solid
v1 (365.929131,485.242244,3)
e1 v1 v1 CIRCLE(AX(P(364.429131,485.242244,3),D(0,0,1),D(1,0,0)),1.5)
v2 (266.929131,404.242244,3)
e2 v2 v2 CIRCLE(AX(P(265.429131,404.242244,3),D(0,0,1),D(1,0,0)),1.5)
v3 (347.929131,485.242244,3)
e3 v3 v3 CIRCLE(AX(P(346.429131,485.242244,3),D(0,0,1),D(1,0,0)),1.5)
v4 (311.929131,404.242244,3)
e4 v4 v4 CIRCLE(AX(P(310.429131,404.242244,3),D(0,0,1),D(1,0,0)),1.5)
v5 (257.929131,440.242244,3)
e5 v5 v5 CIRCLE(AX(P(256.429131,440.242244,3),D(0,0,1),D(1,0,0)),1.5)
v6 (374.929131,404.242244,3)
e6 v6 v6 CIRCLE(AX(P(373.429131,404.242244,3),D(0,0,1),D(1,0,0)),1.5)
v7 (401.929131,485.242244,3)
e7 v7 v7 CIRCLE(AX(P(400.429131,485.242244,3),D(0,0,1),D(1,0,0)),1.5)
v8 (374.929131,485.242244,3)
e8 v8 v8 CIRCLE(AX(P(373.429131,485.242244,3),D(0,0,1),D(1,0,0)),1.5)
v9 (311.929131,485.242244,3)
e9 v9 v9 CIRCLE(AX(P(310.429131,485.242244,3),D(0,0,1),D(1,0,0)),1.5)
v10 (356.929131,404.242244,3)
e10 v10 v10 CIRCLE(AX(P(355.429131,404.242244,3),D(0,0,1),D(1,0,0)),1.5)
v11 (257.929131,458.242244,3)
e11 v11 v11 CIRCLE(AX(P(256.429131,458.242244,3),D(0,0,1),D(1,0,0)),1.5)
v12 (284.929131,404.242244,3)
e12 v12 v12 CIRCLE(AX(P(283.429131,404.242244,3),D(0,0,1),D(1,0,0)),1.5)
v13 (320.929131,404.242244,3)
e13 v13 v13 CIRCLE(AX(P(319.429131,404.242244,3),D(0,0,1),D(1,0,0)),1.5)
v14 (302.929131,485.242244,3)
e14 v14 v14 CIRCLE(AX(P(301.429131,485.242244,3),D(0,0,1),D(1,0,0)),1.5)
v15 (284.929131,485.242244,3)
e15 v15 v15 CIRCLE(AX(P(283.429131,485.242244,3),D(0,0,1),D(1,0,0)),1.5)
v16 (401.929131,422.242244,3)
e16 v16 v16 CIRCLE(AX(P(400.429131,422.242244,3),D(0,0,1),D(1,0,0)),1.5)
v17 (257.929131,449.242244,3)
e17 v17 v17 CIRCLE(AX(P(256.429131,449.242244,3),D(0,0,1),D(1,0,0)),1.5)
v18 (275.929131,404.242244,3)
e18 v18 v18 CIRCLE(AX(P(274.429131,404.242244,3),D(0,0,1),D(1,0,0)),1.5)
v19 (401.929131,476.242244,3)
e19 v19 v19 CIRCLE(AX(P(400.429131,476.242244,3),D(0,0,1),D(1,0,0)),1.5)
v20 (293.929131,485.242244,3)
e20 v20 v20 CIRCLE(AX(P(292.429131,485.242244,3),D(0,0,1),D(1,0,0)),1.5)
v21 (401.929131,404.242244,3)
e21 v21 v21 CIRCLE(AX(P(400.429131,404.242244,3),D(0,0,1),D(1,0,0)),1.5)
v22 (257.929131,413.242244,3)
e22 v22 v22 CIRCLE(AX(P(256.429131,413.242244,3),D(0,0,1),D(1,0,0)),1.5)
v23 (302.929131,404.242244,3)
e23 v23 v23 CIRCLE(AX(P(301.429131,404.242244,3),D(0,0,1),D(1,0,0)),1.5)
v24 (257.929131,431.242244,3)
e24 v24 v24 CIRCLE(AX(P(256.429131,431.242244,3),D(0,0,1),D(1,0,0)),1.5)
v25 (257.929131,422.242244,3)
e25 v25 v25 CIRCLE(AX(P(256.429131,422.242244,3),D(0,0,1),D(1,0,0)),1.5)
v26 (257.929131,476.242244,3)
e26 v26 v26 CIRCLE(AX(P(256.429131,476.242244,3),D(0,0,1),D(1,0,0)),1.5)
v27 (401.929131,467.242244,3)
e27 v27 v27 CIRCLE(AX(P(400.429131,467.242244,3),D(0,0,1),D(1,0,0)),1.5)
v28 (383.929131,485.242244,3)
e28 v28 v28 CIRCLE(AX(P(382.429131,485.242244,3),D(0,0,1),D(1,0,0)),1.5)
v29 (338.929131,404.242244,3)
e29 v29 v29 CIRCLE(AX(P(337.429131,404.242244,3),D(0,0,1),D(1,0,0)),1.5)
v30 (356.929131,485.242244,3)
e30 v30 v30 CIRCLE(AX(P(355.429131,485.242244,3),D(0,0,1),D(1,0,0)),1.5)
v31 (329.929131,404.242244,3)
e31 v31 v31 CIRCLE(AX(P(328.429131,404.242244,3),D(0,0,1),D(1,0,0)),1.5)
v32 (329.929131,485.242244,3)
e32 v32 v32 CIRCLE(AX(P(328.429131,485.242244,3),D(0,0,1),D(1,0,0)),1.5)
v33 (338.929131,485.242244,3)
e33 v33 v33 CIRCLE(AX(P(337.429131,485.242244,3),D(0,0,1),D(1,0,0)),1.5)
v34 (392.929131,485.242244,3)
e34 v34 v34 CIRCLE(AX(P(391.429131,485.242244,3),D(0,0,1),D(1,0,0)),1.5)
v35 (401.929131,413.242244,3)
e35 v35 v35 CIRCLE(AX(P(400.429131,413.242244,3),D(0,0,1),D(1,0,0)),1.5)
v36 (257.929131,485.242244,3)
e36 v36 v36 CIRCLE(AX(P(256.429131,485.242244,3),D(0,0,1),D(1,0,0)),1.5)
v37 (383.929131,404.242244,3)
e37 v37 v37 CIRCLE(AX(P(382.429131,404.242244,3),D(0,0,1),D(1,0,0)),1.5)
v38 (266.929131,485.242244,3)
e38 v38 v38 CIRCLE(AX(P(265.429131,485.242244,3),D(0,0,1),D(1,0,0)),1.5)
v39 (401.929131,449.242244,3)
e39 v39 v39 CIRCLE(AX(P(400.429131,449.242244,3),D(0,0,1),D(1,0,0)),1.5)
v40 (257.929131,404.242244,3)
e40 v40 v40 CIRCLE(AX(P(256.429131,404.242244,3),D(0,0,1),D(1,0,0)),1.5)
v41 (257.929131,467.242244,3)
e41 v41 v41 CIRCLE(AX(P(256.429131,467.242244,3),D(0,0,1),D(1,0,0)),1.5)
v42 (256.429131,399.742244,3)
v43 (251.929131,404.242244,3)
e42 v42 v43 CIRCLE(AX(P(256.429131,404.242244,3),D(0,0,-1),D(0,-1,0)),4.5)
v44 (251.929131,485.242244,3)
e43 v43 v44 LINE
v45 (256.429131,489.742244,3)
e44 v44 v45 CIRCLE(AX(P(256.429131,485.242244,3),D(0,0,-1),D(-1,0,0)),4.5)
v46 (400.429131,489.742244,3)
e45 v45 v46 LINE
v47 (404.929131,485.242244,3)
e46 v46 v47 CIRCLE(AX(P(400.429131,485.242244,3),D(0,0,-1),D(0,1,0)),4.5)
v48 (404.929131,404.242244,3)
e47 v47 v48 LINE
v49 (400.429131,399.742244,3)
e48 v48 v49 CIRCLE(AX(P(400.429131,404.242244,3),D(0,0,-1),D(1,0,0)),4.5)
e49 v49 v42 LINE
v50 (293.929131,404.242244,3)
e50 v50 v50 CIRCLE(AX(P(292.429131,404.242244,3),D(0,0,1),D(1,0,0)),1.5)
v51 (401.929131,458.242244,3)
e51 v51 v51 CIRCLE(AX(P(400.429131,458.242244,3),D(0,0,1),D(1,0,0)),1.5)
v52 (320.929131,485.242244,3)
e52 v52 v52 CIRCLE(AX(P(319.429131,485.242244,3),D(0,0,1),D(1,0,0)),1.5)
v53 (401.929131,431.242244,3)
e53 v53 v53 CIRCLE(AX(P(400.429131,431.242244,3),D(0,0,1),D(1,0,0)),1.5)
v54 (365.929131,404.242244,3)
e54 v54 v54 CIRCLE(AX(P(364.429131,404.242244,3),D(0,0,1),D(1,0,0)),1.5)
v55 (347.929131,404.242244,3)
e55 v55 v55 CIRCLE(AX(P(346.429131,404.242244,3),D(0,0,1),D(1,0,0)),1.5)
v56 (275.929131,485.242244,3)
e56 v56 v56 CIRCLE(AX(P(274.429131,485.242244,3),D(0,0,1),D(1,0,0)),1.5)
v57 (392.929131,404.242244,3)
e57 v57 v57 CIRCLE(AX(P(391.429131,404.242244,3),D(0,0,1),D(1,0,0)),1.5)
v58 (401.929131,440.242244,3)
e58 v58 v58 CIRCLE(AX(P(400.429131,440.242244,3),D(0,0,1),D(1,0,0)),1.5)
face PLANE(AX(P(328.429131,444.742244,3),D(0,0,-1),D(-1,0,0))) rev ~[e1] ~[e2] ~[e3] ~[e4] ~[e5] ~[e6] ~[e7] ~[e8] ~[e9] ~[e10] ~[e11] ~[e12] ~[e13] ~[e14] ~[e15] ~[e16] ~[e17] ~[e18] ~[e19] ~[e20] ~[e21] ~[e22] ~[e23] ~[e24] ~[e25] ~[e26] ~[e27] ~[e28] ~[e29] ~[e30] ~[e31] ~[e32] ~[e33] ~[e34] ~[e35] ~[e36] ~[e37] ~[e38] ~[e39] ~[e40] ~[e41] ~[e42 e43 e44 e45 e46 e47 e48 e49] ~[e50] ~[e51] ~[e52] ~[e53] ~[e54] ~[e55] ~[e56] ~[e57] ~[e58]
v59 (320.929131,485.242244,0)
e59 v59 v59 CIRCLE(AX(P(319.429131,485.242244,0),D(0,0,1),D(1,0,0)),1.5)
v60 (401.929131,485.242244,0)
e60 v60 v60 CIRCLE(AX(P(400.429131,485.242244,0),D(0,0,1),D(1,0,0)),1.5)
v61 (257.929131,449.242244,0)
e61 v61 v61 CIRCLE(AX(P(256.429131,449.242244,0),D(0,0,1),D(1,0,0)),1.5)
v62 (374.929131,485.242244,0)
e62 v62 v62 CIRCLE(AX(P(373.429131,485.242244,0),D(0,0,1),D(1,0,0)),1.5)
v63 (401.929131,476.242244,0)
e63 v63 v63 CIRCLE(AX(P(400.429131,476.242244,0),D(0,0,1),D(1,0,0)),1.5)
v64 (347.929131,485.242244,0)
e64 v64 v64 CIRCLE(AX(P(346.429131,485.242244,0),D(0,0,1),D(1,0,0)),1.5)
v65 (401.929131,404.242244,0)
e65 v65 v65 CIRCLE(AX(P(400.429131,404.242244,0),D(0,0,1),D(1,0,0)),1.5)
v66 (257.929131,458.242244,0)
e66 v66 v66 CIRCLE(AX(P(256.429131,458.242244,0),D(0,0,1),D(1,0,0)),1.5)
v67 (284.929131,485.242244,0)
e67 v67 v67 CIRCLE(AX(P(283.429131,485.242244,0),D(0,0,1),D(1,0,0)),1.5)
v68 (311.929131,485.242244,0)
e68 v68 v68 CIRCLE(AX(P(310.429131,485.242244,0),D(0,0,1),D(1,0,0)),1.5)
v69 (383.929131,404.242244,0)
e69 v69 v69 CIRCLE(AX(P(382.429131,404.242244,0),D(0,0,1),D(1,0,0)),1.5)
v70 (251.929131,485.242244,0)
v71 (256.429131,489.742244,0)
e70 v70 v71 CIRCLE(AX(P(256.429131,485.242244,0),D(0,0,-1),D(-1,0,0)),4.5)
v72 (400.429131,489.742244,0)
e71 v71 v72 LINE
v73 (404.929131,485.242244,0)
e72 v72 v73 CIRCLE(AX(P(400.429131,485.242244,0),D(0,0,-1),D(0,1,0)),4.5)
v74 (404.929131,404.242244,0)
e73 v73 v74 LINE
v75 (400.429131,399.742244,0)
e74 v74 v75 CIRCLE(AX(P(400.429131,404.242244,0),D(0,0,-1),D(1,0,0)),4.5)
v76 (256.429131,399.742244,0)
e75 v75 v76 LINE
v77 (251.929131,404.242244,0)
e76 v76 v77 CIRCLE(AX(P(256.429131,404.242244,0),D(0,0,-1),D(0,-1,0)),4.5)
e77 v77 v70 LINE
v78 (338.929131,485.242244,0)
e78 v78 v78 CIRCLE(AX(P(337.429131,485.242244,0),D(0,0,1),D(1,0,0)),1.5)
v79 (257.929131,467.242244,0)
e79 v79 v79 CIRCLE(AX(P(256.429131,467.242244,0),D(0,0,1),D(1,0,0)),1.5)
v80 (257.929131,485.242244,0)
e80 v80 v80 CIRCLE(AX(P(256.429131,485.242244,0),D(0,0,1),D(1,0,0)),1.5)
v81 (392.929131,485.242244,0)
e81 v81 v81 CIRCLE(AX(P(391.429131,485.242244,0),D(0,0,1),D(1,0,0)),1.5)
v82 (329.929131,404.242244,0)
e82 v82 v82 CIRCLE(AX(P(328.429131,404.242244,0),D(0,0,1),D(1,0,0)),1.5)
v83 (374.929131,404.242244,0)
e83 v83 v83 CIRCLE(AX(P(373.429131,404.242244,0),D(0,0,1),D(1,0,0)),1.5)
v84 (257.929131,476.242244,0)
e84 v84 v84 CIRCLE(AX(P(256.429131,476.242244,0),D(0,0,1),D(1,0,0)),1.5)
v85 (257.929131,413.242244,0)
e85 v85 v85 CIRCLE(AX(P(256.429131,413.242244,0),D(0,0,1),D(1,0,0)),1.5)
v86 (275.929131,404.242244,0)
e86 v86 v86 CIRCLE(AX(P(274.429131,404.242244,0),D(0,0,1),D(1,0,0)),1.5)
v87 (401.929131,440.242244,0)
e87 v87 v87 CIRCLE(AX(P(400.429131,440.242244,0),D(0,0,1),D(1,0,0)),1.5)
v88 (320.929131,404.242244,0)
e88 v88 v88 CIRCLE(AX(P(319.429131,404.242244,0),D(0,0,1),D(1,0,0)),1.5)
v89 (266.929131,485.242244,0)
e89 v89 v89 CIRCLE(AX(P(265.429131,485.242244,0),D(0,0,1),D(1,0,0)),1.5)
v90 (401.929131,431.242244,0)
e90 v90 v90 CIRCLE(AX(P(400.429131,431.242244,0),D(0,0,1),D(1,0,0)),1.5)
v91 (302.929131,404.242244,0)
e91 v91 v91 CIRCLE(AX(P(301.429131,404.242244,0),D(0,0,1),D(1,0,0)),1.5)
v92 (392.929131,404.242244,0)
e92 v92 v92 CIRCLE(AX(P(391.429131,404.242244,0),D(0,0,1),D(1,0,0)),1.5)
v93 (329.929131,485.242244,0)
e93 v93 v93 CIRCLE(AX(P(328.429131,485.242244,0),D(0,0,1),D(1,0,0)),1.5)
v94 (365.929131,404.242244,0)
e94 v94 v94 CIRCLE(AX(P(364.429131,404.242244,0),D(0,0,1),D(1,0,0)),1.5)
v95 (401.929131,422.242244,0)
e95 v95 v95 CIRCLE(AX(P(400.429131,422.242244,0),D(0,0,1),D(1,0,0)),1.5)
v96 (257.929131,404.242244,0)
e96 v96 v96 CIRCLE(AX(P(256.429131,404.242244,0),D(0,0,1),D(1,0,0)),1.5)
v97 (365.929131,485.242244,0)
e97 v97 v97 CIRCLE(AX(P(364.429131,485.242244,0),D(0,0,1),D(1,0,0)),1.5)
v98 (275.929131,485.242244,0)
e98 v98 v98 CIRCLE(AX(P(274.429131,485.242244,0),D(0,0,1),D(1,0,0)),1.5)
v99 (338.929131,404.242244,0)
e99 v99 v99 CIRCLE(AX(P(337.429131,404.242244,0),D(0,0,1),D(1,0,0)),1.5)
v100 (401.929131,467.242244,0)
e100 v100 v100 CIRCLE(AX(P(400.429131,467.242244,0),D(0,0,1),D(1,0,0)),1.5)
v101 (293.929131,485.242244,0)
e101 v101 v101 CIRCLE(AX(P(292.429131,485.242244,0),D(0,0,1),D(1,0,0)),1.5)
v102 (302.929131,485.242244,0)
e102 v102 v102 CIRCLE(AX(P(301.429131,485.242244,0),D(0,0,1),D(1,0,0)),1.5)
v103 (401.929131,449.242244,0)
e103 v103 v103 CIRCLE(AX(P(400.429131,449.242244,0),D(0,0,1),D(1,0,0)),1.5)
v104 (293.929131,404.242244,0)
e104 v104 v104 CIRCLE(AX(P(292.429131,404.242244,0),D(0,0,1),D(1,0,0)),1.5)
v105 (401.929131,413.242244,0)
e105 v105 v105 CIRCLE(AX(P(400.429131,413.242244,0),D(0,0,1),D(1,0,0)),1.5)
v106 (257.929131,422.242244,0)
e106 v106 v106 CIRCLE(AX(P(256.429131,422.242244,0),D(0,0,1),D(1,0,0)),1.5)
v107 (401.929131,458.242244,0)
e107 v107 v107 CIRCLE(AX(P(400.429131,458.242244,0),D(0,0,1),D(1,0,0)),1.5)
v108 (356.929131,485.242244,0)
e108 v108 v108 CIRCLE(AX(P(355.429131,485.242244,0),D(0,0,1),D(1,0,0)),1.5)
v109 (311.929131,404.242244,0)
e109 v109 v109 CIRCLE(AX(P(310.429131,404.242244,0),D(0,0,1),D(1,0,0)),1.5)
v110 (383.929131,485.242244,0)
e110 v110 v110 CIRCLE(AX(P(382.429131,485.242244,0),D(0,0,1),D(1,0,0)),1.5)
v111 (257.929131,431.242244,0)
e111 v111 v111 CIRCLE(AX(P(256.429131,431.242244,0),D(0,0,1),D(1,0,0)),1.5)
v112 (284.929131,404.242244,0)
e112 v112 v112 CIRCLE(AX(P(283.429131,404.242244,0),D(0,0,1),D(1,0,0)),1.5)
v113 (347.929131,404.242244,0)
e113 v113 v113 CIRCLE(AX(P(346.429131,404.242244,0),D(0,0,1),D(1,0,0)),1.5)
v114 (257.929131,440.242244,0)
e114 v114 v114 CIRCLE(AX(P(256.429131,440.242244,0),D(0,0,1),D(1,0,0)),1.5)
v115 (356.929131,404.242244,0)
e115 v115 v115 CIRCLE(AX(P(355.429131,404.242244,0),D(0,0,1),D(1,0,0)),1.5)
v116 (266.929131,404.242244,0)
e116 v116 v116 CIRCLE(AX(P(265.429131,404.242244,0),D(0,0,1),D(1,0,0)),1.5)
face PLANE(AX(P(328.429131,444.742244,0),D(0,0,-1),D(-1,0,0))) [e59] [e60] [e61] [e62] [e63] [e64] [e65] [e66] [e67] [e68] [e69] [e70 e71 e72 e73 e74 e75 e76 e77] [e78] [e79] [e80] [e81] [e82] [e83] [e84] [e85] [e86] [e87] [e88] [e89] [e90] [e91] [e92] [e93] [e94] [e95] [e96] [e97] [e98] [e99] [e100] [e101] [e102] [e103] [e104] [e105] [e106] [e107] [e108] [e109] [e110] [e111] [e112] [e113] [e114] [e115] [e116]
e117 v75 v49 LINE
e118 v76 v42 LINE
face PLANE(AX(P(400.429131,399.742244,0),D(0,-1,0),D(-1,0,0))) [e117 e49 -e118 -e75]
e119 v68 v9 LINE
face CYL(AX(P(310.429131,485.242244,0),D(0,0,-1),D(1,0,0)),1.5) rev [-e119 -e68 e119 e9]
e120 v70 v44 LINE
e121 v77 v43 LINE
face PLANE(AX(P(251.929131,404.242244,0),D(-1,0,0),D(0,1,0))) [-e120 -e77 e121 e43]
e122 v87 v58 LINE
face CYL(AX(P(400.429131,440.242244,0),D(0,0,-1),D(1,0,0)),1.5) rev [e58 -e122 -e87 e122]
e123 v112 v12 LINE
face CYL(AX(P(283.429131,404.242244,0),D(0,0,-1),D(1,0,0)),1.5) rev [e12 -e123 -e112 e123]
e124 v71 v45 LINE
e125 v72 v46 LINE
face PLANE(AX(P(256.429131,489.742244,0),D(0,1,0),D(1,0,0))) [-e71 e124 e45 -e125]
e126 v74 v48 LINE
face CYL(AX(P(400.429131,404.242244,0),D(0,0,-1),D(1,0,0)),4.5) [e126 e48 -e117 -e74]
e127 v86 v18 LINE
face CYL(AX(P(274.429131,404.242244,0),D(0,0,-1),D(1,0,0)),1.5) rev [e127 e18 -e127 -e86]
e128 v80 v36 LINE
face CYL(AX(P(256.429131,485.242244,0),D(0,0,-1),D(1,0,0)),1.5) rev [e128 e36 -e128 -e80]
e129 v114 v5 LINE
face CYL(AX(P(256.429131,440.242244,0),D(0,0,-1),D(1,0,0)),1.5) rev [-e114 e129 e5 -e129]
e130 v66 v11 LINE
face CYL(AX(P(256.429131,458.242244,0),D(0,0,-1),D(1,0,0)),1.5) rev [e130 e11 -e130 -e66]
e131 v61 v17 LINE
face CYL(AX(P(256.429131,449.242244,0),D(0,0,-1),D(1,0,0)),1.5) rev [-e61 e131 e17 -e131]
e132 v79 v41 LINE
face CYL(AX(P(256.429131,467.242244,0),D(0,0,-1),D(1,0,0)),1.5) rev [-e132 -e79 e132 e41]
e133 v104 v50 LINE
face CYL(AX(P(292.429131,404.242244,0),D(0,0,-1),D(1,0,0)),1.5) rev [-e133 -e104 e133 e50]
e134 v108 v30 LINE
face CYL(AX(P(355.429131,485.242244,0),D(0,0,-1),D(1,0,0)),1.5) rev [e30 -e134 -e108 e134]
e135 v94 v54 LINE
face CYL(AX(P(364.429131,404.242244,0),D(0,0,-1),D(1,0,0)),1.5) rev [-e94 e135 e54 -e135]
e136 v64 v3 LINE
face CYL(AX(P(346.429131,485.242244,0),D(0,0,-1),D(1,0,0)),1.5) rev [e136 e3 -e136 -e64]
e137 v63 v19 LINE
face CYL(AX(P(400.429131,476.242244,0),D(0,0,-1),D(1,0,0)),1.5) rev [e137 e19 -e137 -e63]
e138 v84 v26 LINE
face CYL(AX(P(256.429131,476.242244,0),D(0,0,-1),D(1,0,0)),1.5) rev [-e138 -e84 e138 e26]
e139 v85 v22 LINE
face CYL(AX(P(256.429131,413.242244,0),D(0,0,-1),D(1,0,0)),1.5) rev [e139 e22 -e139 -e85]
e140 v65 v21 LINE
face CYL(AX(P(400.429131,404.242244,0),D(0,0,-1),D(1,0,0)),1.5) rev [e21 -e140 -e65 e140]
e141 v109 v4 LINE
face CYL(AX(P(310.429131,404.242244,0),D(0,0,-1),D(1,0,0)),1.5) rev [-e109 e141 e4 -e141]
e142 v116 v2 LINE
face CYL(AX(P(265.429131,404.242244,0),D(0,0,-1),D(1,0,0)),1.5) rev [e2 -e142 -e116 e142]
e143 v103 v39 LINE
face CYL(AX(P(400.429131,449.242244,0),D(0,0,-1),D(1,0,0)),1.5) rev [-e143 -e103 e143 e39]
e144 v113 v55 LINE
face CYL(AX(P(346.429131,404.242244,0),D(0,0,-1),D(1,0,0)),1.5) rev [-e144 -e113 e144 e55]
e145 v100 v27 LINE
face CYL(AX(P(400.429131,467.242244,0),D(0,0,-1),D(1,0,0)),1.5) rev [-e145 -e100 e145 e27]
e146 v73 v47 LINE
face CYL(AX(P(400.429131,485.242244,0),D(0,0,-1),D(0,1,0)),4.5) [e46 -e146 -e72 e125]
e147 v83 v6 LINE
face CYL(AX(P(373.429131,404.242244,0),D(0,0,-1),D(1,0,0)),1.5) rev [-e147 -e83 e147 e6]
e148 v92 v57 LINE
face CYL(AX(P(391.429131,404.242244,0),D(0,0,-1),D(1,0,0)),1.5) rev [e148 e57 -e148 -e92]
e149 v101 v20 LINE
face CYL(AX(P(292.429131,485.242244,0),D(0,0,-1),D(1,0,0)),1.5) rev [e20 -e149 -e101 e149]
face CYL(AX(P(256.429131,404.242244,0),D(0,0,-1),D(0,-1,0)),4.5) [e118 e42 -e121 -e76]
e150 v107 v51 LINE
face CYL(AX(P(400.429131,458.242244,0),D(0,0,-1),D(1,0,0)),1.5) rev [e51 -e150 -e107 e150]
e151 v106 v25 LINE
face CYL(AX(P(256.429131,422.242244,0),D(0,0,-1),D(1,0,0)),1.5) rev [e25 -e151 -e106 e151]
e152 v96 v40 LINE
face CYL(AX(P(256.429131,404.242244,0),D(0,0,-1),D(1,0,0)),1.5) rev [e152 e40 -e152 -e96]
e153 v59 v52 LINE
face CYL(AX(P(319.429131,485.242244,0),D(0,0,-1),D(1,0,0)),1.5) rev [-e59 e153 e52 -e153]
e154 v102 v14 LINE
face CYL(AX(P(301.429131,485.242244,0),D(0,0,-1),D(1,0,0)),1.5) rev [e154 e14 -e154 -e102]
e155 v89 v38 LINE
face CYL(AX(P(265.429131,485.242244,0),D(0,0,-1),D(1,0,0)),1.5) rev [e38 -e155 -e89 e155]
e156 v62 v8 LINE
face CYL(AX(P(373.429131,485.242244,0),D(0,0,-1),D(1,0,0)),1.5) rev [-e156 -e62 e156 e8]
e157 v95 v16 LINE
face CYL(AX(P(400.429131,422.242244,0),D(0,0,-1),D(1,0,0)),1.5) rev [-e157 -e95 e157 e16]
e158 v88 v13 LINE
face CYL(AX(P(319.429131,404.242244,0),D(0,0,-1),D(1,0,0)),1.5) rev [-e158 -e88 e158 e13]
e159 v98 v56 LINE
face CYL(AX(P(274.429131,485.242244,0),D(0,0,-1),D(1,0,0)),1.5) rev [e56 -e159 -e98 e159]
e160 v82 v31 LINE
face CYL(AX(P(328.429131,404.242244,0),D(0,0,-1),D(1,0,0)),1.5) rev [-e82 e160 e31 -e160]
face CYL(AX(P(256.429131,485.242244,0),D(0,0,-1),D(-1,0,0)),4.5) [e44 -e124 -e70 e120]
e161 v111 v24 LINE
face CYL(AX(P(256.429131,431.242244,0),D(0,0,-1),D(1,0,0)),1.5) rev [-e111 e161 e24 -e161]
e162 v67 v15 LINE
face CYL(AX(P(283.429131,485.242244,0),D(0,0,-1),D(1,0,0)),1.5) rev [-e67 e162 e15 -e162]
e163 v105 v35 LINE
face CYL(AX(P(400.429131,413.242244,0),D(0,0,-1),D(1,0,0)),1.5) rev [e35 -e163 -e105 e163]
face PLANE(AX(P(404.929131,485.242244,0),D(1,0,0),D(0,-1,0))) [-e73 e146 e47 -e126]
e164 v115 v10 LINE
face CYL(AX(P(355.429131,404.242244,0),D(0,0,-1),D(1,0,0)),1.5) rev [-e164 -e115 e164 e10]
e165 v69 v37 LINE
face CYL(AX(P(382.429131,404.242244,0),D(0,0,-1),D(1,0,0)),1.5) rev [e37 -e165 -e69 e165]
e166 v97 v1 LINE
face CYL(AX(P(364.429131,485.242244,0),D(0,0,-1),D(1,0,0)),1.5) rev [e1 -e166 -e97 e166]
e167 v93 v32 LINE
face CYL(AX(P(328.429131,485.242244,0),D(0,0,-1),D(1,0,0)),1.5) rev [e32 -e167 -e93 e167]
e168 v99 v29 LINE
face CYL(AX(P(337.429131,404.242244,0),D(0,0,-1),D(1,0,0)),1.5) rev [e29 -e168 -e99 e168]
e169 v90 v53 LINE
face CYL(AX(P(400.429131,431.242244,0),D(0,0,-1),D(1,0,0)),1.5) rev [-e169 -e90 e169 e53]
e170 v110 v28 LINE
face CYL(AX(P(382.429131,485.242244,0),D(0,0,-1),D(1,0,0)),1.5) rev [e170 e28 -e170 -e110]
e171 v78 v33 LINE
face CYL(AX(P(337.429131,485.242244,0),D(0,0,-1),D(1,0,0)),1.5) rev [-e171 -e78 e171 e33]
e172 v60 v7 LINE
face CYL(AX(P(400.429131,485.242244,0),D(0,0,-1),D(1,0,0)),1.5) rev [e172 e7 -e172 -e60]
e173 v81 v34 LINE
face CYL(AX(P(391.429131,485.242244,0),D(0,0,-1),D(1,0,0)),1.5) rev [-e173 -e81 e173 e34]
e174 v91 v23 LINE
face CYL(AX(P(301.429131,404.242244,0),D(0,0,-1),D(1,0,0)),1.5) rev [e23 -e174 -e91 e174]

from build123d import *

# Parameters (mm, degrees)
MODEL_R                 = 1.5
SALIENTE_EXTRUIR1_DEPTH = 3


with BuildPart() as part:
    # Model → Saliente-Extruir1 (new body)
    with BuildSketch(Plane.XY):
        with BuildLine():
            Line((404.929131311, 485.242243614), (404.929131311, 404.242243614))
            ThreePointArc((404.929131311, 404.242243614), (403.611111826, 401.060263099), (400.429131311, 399.742243614))
            Line((400.429131311, 399.742243614), (256.429131311, 399.742243614))
            ThreePointArc((256.429131311, 399.742243614), (253.247150795, 401.060263099), (251.929131311, 404.242243614))
            Line((251.929131311, 404.242243614), (251.929131311, 485.242243614))
            ThreePointArc((251.929131311, 485.242243614), (253.247150795, 488.424224129), (256.429131311, 489.742243614))
            Line((256.429131311, 489.742243614), (400.429131311, 489.742243614))
            ThreePointArc((400.429131311, 489.742243614), (403.611111826, 488.424224129), (404.929131311, 485.242243614))
        make_face()
        with Locations((400.429131311, 485.242243614)):
            Circle(MODEL_R, mode=Mode.SUBTRACT)
        with Locations((400.429131311, 476.242243614)):
            Circle(MODEL_R, mode=Mode.SUBTRACT)
        with Locations((400.429131311, 467.242243614)):
            Circle(MODEL_R, mode=Mode.SUBTRACT)
        with Locations((400.429131311, 458.242243614)):
            Circle(MODEL_R, mode=Mode.SUBTRACT)
        with Locations((400.429131311, 449.242243614)):
            Circle(MODEL_R, mode=Mode.SUBTRACT)
        with Locations((400.429131311, 440.242243614)):
            Circle(MODEL_R, mode=Mode.SUBTRACT)
        with Locations((400.429131311, 431.242243614)):
            Circle(MODEL_R, mode=Mode.SUBTRACT)
        with Locations((400.429131311, 422.242243614)):
            Circle(MODEL_R, mode=Mode.SUBTRACT)
        with Locations((400.429131311, 413.242243614)):
            Circle(MODEL_R, mode=Mode.SUBTRACT)
        with Locations((400.429131311, 404.242243614)):
            Circle(MODEL_R, mode=Mode.SUBTRACT)
        with Locations((256.429131311, 485.242243614)):
            Circle(MODEL_R, mode=Mode.SUBTRACT)
        with Locations((256.429131311, 476.242243614)):
            Circle(MODEL_R, mode=Mode.SUBTRACT)
        with Locations((256.429131311, 467.242243614)):
            Circle(MODEL_R, mode=Mode.SUBTRACT)
        with Locations((256.429131311, 458.242243614)):
            Circle(MODEL_R, mode=Mode.SUBTRACT)
        with Locations((256.429131311, 449.242243614)):
            Circle(MODEL_R, mode=Mode.SUBTRACT)
        with Locations((256.429131311, 440.242243614)):
            Circle(MODEL_R, mode=Mode.SUBTRACT)
        with Locations((256.429131311, 431.242243614)):
            Circle(MODEL_R, mode=Mode.SUBTRACT)
        with Locations((256.429131311, 422.242243614)):
            Circle(MODEL_R, mode=Mode.SUBTRACT)
        with Locations((256.429131311, 413.242243614)):
            Circle(MODEL_R, mode=Mode.SUBTRACT)
        with Locations((256.429131311, 404.242243614)):
            Circle(MODEL_R, mode=Mode.SUBTRACT)
        with Locations((265.429131311, 485.242243614)):
            Circle(MODEL_R, mode=Mode.SUBTRACT)
        with Locations((265.429131311, 404.242243614)):
            Circle(MODEL_R, mode=Mode.SUBTRACT)
        with Locations((274.429131311, 485.242243614)):
            Circle(MODEL_R, mode=Mode.SUBTRACT)
        with Locations((274.429131311, 404.242243614)):
            Circle(MODEL_R, mode=Mode.SUBTRACT)
        with Locations((283.429131311, 485.242243614)):
            Circle(MODEL_R, mode=Mode.SUBTRACT)
        with Locations((283.429131311, 404.242243614)):
            Circle(MODEL_R, mode=Mode.SUBTRACT)
        with Locations((292.429131311, 485.242243614)):
            Circle(MODEL_R, mode=Mode.SUBTRACT)
        with Locations((292.429131311, 404.242243614)):
            Circle(MODEL_R, mode=Mode.SUBTRACT)
        with Locations((301.429131311, 485.242243614)):
            Circle(MODEL_R, mode=Mode.SUBTRACT)
        with Locations((301.429131311, 404.242243614)):
            Circle(MODEL_R, mode=Mode.SUBTRACT)
        with Locations((310.429131311, 485.242243614)):
            Circle(MODEL_R, mode=Mode.SUBTRACT)
        with Locations((310.429131311, 404.242243614)):
            Circle(MODEL_R, mode=Mode.SUBTRACT)
        with Locations((319.429131311, 485.242243614)):
            Circle(MODEL_R, mode=Mode.SUBTRACT)
        with Locations((319.429131311, 404.242243614)):
            Circle(MODEL_R, mode=Mode.SUBTRACT)
        with Locations((328.429131311, 485.242243614)):
            Circle(MODEL_R, mode=Mode.SUBTRACT)
        with Locations((328.429131311, 404.242243614)):
            Circle(MODEL_R, mode=Mode.SUBTRACT)
        with Locations((337.429131311, 485.242243614)):
            Circle(MODEL_R, mode=Mode.SUBTRACT)
        with Locations((337.429131311, 404.242243614)):
            Circle(MODEL_R, mode=Mode.SUBTRACT)
        with Locations((346.429131311, 485.242243614)):
            Circle(MODEL_R, mode=Mode.SUBTRACT)
        with Locations((346.429131311, 404.242243614)):
            Circle(MODEL_R, mode=Mode.SUBTRACT)
        with Locations((355.429131311, 485.242243614)):
            Circle(MODEL_R, mode=Mode.SUBTRACT)
        with Locations((355.429131311, 404.242243614)):
            Circle(MODEL_R, mode=Mode.SUBTRACT)
        with Locations((364.429131311, 485.242243614)):
            Circle(MODEL_R, mode=Mode.SUBTRACT)
        with Locations((364.429131311, 404.242243614)):
            Circle(MODEL_R, mode=Mode.SUBTRACT)
        with Locations((373.429131311, 485.242243614)):
            Circle(MODEL_R, mode=Mode.SUBTRACT)
        with Locations((373.429131311, 404.242243614)):
            Circle(MODEL_R, mode=Mode.SUBTRACT)
        with Locations((382.429131311, 485.242243614)):
            Circle(MODEL_R, mode=Mode.SUBTRACT)
        with Locations((382.429131311, 404.242243614)):
            Circle(MODEL_R, mode=Mode.SUBTRACT)
        with Locations((391.429131311, 485.242243614)):
            Circle(MODEL_R, mode=Mode.SUBTRACT)
        with Locations((391.429131311, 404.242243614)):
            Circle(MODEL_R, mode=Mode.SUBTRACT)
    extrude(amount=SALIENTE_EXTRUIR1_DEPTH)


solid = part.part
